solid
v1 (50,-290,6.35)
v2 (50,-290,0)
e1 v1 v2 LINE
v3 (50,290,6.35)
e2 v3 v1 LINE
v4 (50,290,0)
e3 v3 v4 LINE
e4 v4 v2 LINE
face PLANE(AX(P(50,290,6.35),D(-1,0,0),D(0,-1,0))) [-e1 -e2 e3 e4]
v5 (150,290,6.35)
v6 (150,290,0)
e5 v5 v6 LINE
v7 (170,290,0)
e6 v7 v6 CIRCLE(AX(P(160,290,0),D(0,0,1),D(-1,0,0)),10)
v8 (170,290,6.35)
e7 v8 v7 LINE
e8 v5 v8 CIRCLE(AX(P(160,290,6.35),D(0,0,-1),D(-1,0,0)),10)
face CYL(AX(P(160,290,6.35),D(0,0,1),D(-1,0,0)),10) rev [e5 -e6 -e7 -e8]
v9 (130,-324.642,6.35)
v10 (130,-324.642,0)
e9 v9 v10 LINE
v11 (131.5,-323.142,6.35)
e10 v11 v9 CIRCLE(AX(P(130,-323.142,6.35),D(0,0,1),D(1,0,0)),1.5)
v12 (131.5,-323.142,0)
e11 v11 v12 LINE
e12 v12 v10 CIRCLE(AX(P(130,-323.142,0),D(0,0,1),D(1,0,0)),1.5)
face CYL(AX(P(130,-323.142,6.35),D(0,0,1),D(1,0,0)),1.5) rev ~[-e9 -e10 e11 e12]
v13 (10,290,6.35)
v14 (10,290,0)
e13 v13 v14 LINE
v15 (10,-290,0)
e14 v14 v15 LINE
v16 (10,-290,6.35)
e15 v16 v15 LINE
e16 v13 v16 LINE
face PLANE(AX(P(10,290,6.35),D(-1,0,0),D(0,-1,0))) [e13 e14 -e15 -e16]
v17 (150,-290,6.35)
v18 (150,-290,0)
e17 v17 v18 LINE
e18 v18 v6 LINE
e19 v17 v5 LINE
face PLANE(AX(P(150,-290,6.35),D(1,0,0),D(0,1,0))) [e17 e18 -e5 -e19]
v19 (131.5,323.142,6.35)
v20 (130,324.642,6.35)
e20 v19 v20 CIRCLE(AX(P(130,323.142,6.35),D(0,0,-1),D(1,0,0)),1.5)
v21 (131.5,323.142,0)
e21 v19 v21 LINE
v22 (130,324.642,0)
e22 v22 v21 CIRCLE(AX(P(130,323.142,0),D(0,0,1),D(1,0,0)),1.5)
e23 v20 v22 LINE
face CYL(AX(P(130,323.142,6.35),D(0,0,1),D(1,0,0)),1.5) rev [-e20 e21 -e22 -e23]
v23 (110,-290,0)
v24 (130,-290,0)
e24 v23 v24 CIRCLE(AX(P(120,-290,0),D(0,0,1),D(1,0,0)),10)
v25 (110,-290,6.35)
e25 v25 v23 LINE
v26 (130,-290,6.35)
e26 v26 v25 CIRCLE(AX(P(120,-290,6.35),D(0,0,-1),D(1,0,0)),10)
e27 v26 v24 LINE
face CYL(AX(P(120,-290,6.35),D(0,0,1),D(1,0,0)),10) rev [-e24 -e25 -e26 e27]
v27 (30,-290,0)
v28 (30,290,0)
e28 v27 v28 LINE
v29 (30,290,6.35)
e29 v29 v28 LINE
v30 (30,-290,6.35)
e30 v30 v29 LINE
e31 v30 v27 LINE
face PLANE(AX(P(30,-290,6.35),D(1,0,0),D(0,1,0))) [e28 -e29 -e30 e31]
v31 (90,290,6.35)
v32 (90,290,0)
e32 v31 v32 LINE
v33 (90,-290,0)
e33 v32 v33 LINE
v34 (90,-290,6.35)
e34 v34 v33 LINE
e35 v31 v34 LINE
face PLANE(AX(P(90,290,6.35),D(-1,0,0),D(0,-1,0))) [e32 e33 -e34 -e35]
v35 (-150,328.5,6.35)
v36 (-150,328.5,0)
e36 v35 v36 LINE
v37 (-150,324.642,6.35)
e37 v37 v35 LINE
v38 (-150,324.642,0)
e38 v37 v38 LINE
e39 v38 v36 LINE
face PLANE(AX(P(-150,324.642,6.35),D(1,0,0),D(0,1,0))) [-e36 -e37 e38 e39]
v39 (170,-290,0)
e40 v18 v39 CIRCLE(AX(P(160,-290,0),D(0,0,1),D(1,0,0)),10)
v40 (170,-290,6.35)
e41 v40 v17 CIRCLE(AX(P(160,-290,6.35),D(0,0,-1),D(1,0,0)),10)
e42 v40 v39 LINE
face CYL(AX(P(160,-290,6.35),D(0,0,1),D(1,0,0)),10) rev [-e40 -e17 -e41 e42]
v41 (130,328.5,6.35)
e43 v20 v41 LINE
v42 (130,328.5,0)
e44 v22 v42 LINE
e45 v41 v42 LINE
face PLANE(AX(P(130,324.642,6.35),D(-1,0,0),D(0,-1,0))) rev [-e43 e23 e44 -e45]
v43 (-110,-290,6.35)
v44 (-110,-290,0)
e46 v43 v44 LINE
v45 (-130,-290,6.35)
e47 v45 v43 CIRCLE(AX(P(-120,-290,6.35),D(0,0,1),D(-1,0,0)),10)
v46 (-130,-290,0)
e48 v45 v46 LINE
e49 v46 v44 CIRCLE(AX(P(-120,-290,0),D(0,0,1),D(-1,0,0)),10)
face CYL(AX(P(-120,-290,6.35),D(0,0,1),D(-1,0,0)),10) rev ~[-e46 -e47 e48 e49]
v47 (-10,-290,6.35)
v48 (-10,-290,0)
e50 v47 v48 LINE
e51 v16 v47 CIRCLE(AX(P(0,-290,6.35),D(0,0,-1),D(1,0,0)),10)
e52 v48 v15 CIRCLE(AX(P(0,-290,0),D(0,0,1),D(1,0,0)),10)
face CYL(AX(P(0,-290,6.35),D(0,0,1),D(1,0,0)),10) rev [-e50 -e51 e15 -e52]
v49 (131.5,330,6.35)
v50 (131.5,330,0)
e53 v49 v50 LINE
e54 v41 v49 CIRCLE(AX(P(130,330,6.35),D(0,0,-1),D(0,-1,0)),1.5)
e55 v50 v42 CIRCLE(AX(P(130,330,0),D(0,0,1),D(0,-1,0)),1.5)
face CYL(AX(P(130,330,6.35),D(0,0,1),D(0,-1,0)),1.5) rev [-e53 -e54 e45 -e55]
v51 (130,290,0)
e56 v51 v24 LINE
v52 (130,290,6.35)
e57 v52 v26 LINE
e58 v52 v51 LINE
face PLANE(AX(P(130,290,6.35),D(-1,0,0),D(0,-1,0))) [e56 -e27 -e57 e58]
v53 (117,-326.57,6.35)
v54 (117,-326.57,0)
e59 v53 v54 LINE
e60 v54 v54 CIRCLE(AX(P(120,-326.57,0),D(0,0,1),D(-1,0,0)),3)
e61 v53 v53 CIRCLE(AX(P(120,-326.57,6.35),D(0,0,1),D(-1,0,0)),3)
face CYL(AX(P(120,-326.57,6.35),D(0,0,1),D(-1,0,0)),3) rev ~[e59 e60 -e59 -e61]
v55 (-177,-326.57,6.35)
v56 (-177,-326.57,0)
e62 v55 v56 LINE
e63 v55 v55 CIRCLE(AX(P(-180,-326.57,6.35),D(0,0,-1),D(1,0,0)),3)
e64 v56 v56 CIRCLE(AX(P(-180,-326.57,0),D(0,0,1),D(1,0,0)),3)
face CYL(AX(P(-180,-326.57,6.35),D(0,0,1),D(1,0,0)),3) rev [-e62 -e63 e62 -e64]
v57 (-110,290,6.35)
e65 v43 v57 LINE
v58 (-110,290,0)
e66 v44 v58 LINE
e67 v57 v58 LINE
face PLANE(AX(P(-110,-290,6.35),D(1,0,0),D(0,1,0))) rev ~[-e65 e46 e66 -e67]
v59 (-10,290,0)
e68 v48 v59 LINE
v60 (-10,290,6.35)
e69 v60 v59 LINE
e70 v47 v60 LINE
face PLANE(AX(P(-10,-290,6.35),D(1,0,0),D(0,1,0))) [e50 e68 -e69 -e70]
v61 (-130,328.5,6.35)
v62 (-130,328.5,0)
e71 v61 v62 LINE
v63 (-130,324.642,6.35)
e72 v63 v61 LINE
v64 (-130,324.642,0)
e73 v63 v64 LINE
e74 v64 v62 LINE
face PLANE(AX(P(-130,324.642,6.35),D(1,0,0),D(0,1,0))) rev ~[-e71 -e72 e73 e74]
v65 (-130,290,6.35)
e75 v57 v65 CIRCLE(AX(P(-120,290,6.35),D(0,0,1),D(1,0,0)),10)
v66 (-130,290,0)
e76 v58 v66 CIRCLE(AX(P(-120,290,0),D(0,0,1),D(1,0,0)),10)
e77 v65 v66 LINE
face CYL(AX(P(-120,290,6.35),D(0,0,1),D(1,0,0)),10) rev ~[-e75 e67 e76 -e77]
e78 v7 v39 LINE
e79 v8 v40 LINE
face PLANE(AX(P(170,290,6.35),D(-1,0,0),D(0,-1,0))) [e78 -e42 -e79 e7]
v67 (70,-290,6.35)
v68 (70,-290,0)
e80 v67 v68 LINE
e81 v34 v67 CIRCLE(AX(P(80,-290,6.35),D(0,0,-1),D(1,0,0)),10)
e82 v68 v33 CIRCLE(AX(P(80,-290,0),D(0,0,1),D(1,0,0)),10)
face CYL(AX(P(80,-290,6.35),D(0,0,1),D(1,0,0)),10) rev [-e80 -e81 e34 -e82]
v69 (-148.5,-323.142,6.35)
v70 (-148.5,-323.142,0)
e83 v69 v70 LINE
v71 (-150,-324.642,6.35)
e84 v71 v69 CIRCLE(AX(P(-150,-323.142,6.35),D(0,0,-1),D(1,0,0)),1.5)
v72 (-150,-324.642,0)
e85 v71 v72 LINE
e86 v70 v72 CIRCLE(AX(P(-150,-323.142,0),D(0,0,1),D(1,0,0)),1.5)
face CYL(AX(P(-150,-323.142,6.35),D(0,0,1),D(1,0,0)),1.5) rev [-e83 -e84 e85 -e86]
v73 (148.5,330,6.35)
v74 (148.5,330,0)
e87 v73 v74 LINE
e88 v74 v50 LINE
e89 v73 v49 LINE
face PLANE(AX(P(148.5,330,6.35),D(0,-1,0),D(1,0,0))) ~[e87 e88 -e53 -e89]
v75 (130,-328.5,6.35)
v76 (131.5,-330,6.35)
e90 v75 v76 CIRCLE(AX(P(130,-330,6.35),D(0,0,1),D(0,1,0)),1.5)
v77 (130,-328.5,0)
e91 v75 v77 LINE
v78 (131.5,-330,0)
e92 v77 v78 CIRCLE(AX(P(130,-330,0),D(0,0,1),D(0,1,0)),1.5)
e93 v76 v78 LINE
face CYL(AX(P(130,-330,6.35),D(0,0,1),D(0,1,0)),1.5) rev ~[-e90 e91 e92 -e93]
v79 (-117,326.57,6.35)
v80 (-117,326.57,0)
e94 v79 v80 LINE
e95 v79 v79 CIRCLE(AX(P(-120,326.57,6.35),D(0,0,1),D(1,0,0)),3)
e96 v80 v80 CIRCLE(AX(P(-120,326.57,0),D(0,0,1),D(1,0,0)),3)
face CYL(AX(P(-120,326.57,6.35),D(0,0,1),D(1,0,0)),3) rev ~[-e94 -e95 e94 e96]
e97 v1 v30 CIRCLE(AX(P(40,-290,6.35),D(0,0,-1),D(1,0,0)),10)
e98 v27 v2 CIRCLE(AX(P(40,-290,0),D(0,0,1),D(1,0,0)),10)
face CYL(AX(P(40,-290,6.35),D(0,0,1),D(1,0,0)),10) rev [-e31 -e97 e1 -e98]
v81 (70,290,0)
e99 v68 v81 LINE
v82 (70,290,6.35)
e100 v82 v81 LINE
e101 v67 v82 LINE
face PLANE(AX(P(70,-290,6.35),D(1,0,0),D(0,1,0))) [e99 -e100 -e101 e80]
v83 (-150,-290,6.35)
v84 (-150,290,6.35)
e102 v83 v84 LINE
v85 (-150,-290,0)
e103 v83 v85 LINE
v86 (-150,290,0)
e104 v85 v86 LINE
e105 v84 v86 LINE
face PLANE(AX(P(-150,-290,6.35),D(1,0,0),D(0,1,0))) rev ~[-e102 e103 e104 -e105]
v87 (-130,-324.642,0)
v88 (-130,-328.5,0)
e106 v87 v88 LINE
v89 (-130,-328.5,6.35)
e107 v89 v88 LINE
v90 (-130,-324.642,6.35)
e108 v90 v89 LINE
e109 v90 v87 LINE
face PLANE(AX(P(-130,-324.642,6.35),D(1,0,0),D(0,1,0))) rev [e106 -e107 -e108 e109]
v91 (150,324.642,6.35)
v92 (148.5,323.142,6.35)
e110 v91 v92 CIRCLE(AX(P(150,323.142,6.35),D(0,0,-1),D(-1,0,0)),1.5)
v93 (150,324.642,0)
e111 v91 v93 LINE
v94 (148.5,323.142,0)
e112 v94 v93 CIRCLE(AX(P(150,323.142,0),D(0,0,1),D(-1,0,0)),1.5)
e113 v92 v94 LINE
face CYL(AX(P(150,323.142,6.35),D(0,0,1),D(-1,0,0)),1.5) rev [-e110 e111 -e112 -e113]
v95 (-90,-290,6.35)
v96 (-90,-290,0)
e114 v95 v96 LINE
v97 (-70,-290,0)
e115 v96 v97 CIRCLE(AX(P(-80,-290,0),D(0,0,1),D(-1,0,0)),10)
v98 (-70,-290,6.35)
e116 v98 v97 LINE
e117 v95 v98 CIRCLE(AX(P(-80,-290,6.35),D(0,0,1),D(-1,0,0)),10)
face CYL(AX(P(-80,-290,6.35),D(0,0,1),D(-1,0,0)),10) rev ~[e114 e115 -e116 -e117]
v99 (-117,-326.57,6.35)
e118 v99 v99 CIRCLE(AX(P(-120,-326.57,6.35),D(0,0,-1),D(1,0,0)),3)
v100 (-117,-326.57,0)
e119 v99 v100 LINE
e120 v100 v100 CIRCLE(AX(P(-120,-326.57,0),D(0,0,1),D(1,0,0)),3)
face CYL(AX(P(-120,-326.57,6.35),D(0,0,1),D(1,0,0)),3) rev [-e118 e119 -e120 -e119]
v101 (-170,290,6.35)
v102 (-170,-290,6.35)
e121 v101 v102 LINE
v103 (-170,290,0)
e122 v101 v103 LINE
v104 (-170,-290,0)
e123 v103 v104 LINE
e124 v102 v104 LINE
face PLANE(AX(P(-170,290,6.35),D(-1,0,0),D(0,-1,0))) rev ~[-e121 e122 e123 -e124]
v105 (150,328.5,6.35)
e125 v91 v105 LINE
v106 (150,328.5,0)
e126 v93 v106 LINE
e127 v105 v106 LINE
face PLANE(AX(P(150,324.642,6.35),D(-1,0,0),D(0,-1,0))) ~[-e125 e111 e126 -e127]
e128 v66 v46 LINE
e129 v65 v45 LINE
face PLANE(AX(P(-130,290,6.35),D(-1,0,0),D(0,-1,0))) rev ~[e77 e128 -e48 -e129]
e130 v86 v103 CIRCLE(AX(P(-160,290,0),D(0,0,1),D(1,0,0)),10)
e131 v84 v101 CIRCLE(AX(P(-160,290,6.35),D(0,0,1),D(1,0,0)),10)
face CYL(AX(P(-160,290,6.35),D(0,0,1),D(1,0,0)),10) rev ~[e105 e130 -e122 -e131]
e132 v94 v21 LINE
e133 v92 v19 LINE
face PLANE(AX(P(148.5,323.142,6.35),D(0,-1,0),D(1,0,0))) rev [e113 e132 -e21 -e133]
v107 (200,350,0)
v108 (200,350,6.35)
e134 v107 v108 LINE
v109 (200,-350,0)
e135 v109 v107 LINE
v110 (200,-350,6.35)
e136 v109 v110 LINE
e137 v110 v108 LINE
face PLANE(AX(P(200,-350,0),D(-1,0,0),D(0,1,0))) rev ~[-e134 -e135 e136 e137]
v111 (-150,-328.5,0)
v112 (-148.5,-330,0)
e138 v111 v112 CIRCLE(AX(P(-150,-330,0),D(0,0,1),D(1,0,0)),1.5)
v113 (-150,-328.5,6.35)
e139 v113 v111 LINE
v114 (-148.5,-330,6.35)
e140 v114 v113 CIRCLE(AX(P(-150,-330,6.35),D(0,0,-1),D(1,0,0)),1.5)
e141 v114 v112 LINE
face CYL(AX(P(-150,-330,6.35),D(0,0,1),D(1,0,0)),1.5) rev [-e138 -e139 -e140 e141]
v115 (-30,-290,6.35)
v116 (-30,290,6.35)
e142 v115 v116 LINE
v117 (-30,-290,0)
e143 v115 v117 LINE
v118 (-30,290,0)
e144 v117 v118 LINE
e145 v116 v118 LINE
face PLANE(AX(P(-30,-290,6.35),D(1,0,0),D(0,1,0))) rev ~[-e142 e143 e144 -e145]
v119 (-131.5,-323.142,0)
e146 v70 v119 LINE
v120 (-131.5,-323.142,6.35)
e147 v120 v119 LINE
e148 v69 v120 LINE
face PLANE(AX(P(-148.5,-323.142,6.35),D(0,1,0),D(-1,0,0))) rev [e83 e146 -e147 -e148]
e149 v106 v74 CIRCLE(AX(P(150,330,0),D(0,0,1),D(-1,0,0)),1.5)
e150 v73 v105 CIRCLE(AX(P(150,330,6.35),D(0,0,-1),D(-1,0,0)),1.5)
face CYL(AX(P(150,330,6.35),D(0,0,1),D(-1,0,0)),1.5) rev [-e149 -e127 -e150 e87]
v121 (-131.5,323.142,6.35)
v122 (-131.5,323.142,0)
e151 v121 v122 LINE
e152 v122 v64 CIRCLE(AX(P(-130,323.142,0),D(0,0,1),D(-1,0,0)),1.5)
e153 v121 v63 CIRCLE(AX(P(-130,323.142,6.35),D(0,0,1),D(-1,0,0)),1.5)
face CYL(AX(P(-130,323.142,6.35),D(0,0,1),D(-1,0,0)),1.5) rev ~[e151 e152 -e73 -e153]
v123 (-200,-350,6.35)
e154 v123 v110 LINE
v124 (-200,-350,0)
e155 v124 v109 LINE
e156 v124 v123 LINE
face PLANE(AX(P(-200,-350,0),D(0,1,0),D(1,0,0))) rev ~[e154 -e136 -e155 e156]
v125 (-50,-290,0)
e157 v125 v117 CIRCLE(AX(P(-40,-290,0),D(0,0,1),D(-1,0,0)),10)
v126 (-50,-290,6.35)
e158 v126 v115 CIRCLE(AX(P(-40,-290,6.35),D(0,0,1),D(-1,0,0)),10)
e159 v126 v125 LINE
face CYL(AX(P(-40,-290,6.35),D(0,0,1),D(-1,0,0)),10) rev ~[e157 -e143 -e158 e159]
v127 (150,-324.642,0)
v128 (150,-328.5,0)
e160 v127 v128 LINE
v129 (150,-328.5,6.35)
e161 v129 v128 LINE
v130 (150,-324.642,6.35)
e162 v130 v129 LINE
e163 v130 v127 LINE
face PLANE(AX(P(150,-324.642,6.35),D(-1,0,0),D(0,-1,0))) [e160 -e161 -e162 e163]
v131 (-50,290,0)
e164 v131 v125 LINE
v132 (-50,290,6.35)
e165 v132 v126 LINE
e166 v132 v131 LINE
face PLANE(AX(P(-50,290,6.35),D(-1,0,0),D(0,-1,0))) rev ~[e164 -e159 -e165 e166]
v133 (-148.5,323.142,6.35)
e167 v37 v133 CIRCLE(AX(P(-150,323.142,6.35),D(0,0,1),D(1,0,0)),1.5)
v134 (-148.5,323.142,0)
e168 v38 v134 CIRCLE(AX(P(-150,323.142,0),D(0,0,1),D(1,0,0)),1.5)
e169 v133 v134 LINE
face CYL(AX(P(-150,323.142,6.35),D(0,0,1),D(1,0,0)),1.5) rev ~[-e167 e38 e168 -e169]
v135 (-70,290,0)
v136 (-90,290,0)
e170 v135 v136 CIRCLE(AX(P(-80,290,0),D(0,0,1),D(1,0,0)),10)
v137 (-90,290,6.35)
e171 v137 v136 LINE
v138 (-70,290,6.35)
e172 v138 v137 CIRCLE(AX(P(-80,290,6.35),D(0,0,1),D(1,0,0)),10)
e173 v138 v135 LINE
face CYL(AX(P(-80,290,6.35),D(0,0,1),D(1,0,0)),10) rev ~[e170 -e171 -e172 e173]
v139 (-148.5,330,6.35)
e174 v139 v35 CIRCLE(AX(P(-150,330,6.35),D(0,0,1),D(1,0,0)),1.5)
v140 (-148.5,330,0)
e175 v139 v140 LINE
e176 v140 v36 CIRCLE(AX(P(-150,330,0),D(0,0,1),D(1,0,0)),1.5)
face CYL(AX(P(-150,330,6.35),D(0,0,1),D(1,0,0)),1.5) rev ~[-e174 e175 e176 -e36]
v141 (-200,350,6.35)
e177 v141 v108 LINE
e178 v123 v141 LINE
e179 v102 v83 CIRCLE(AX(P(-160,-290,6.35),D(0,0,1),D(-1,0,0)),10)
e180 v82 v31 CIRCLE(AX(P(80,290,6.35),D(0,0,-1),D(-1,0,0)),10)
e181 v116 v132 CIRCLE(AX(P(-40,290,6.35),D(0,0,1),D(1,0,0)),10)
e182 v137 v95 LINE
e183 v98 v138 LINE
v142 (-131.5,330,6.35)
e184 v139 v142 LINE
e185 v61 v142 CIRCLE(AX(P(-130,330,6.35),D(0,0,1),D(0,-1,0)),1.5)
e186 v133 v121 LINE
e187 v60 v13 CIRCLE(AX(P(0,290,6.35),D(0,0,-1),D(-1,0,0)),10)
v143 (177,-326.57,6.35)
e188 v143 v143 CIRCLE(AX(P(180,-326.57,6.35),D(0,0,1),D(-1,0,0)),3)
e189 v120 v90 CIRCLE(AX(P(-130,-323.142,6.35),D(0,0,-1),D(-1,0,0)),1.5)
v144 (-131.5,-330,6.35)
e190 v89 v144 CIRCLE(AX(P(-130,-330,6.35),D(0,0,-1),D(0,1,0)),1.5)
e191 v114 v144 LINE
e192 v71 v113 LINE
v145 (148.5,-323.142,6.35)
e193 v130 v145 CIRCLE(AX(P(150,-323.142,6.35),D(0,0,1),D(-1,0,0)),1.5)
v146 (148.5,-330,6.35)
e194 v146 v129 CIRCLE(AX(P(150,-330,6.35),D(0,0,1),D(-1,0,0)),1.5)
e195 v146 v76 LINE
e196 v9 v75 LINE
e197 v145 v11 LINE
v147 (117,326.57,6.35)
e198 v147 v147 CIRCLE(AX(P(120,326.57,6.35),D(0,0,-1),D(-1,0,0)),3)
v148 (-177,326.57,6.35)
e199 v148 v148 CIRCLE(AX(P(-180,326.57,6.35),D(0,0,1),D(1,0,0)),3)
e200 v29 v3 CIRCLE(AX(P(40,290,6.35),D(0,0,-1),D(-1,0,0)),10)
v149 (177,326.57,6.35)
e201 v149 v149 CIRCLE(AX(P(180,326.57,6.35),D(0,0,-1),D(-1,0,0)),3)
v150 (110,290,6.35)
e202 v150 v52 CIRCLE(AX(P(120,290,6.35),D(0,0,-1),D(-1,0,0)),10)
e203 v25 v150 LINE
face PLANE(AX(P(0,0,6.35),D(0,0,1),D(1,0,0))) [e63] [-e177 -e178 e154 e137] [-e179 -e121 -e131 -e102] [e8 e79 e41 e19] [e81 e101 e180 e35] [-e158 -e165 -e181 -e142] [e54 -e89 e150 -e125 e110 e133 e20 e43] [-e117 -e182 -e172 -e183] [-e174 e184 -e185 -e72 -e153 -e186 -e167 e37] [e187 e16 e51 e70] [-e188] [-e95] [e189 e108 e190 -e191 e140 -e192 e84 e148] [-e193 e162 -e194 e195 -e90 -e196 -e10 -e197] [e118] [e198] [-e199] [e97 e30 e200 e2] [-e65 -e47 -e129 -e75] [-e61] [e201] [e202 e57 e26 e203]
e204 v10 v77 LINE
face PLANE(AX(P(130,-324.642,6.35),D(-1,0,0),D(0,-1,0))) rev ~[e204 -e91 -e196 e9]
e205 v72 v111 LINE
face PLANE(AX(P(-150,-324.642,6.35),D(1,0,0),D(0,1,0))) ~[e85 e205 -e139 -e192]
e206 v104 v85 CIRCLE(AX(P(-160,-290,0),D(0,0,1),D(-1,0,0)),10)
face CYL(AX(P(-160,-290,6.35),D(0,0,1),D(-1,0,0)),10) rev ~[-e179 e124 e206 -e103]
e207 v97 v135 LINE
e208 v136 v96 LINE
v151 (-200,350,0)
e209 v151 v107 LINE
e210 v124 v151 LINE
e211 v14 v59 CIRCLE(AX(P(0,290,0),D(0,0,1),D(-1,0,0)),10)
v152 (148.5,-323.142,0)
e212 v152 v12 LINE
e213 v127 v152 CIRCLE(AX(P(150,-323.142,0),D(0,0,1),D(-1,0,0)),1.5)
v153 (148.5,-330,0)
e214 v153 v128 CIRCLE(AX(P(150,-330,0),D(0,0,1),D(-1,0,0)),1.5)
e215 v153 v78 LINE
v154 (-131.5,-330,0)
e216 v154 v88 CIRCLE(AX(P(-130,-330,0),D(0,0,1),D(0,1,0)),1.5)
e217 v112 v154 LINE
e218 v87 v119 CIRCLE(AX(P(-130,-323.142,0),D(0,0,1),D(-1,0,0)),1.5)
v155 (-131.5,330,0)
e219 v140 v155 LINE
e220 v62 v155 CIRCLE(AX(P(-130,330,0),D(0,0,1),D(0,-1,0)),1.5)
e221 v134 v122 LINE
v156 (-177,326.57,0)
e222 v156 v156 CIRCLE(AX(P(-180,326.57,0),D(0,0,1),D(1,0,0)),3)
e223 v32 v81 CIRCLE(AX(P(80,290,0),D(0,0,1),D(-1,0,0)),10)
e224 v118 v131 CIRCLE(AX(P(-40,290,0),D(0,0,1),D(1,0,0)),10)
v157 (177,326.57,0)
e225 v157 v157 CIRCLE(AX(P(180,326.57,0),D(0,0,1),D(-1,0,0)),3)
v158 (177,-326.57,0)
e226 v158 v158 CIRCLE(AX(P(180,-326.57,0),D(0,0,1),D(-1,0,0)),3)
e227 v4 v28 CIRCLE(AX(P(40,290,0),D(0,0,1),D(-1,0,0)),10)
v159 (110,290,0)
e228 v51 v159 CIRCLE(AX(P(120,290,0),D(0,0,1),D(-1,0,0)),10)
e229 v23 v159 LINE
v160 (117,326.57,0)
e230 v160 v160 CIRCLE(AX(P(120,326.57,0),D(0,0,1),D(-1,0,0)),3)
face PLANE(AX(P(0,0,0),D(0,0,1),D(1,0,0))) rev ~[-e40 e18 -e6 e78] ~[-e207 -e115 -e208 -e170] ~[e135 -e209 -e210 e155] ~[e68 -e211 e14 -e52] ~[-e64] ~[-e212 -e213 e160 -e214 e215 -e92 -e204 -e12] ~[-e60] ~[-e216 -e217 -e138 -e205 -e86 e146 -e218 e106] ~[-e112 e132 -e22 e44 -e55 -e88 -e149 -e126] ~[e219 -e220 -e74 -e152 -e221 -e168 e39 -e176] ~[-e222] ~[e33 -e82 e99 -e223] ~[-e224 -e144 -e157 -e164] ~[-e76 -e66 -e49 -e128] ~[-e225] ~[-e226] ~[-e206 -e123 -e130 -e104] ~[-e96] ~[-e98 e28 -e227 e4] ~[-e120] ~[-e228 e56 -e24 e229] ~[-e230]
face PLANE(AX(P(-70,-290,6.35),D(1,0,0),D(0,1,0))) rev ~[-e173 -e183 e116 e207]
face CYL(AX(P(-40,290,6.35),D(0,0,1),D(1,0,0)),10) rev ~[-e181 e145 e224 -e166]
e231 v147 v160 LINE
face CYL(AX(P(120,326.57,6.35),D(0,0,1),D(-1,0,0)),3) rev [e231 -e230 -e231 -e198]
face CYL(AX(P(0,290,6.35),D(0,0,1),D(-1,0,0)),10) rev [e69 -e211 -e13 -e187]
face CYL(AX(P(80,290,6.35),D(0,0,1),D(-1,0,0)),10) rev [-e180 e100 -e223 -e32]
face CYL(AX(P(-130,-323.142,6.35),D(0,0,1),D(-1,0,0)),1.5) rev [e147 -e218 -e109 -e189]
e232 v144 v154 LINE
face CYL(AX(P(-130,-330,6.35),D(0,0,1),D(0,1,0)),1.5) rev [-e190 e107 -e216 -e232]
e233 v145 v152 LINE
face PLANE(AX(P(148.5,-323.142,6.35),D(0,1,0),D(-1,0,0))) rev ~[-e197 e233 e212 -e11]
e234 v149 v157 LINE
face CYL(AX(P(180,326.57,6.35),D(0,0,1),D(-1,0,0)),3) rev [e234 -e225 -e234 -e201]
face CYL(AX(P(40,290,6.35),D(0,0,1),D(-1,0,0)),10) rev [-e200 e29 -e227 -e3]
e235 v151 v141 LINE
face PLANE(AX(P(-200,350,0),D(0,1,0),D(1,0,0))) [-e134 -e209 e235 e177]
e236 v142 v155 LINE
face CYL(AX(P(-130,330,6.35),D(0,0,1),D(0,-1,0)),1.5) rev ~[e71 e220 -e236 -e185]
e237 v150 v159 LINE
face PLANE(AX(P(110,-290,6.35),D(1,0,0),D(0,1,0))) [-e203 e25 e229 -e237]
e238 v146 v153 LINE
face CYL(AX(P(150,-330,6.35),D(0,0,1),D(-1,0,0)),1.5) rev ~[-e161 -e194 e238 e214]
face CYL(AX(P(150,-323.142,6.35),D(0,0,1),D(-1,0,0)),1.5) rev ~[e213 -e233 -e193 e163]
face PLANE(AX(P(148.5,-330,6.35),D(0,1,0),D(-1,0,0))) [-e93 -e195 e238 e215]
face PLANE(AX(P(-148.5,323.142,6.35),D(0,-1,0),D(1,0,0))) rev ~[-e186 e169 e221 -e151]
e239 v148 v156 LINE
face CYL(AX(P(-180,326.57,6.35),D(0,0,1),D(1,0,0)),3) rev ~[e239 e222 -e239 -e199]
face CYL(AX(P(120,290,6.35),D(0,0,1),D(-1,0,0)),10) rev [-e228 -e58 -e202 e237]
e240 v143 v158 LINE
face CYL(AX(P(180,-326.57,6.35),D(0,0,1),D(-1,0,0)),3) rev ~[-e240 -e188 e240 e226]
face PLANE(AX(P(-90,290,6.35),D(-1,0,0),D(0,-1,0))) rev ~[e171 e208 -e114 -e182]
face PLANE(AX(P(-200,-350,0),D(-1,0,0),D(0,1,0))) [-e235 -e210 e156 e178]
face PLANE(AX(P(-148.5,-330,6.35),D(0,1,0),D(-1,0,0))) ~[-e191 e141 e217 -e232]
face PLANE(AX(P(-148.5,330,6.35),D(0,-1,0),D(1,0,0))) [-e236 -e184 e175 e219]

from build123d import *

# Parameters (mm, degrees)
SKETCH1_W                 = 400
SKETCH1_H                 = 700
BOSS_EXTRUDE1_DEPTH       = 6.35
SKETCH2_R                 = 1.5
SKETCH2_W                 = 20
SKETCH2_H                 = 6.858
SKETCH2_R_2               = 3
CUT_EXTRUDE1_DEPTH        = 7.35
MIRROR2_COPY_1_SKETCH_R   = 1.5
MIRROR2_COPY_1_SKETCH_W   = 20
MIRROR2_COPY_1_SKETCH_H   = 6.858
MIRROR2_COPY_1_SKETCH_R_2 = 3
MIRROR2_COPY_1_DEPTH      = 7.35
CUT_EXTRUDE2_DEPTH        = 7.35
LPATTERN1_COUNT           = 5
LPATTERN1_PITCH           = 40
MIRROR3_COPY_1_DEPTH      = 7.35
MIRROR3_COPY_2_DEPTH      = 7.35
MIRROR3_COPY_3_DEPTH      = 7.35
MIRROR3_COPY_4_DEPTH      = 7.35
MIRROR3_COPY_5_DEPTH      = 7.35


with BuildPart() as part:
    # Sketch1 → Boss-Extrude1 (new body)
    with BuildSketch(Plane.XY):
        Rectangle(SKETCH1_W, SKETCH1_H)
    extrude(amount=BOSS_EXTRUDE1_DEPTH)

    # Sketch2 → Cut-Extrude1 (cut, through all)
    with BuildSketch(Plane.XY.offset(6.35)):
        with Locations((-130, 323.142)):
            Circle(SKETCH2_R)
        with Locations((-130, 330)):
            Circle(SKETCH2_R)
        with Locations((-150, 330)):
            Circle(SKETCH2_R)
        with Locations((-150, 323.142)):
            Circle(SKETCH2_R)
        with Locations((-140, 326.571)):
            Rectangle(SKETCH2_W, SKETCH2_H)
        with BuildLine():
            Line((-150, 328.5), (-150, 330))
            Line((-150, 330), (-148.5, 330))
            ThreePointArc((-148.5, 330), (-151.060660172, 331.060660172), (-150, 328.5))
        make_face()
        with BuildLine():
            Line((-148.5, 330), (-150, 330))
            Line((-150, 330), (-150, 328.5))
            ThreePointArc((-150, 328.5), (-148.939339828, 328.939339828), (-148.5, 330))
        make_face()
        with BuildLine():
            ThreePointArc((-148.5, 323.142), (-148.939339828, 324.202660172), (-150, 324.642))
            Line((-150, 324.642), (-150, 323.142))
            Line((-150, 323.142), (-148.5, 323.142))
        make_face()
        with BuildLine():
            Line((-150, 323.142), (-150, 324.642))
            ThreePointArc((-150, 324.642), (-151.060660172, 322.081339828), (-148.5, 323.142))
            Line((-148.5, 323.142), (-150, 323.142))
        make_face()
        with BuildLine():
            ThreePointArc((-128.5, 330), (-130, 331.5), (-131.5, 330))
            Line((-131.5, 330), (-130, 330))
            Line((-130, 330), (-130, 328.5))
            ThreePointArc((-130, 328.5), (-128.939339828, 328.939339828), (-128.5, 330))
        make_face()
        with BuildLine():
            Line((-130, 330), (-131.5, 330))
            ThreePointArc((-131.5, 330), (-131.060660172, 328.939339828), (-130, 328.5))
            Line((-130, 328.5), (-130, 330))
        make_face()
        with BuildLine():
            ThreePointArc((-128.5, 323.142), (-128.939339828, 324.202660172), (-130, 324.642))
            Line((-130, 324.642), (-130, 323.142))
            Line((-130, 323.142), (-131.5, 323.142))
            ThreePointArc((-131.5, 323.142), (-130, 321.642), (-128.5, 323.142))
        make_face()
        with BuildLine():
            Line((-130, 323.142), (-130, 324.642))
            ThreePointArc((-130, 324.642), (-131.060660172, 324.202660172), (-131.5, 323.142))
            Line((-131.5, 323.142), (-130, 323.142))
        make_face()
        with Locations((-180, 326.57)):
            Circle(SKETCH2_R_2)
        with Locations((-120, 326.57)):
            Circle(SKETCH2_R_2)
    cut_extrude1 = extrude(amount=-CUT_EXTRUDE1_DEPTH, mode=Mode.SUBTRACT)

    # Mirror1: Cut-Extrude1 across plane
    add(cut_extrude1.mirror(Plane.ZX), mode=Mode.SUBTRACT)

    # Mirror2: Cut-Extrude1 across plane
    add(cut_extrude1.mirror(Plane(origin=(0, 0, 0), x_dir=(0, 0, 1), z_dir=(1, 0, 0))), mode=Mode.SUBTRACT)

    # Mirror2 copy 1 sketch → Mirror2 copy 1 (cut, through all)
    with BuildSketch(Plane(origin=(0, 0, 6.35), x_dir=(-1, 0, 0), z_dir=(0, 0, 1))):
        with Locations((-130, 323.142)):
            Circle(MIRROR2_COPY_1_SKETCH_R)
        with Locations((-130, 330)):
            Circle(MIRROR2_COPY_1_SKETCH_R)
        with Locations((-150, 330)):
            Circle(MIRROR2_COPY_1_SKETCH_R)
        with Locations((-150, 323.142)):
            Circle(MIRROR2_COPY_1_SKETCH_R)
        with Locations((-140, 326.571)):
            Rectangle(MIRROR2_COPY_1_SKETCH_W, MIRROR2_COPY_1_SKETCH_H)
        with BuildLine():
            Line((-150, 328.5), (-150, 330))
            Line((-150, 330), (-148.5, 330))
            ThreePointArc((-148.5, 330), (-151.060660172, 331.060660172), (-150, 328.5))
        make_face()
        with BuildLine():
            Line((-148.5, 330), (-150, 330))
            Line((-150, 330), (-150, 328.5))
            ThreePointArc((-150, 328.5), (-148.939339828, 328.939339828), (-148.5, 330))
        make_face()
        with BuildLine():
            ThreePointArc((-148.5, 323.142), (-148.939339828, 324.202660172), (-150, 324.642))
            Line((-150, 324.642), (-150, 323.142))
            Line((-150, 323.142), (-148.5, 323.142))
        make_face()
        with BuildLine():
            Line((-150, 323.142), (-150, 324.642))
            ThreePointArc((-150, 324.642), (-151.060660172, 322.081339828), (-148.5, 323.142))
            Line((-148.5, 323.142), (-150, 323.142))
        make_face()
        with BuildLine():
            ThreePointArc((-128.5, 330), (-130, 331.5), (-131.5, 330))
            Line((-131.5, 330), (-130, 330))
            Line((-130, 330), (-130, 328.5))
            ThreePointArc((-130, 328.5), (-128.939339828, 328.939339828), (-128.5, 330))
        make_face()
        with BuildLine():
            Line((-130, 330), (-131.5, 330))
            ThreePointArc((-131.5, 330), (-131.060660172, 328.939339828), (-130, 328.5))
            Line((-130, 328.5), (-130, 330))
        make_face()
        with BuildLine():
            ThreePointArc((-128.5, 323.142), (-128.939339828, 324.202660172), (-130, 324.642))
            Line((-130, 324.642), (-130, 323.142))
            Line((-130, 323.142), (-131.5, 323.142))
            ThreePointArc((-131.5, 323.142), (-130, 321.642), (-128.5, 323.142))
        make_face()
        with BuildLine():
            Line((-130, 323.142), (-130, 324.642))
            ThreePointArc((-130, 324.642), (-131.060660172, 324.202660172), (-131.5, 323.142))
            Line((-131.5, 323.142), (-130, 323.142))
        make_face()
        with Locations((-180, 326.57)):
            Circle(MIRROR2_COPY_1_SKETCH_R_2)
        with Locations((-120, 326.57)):
            Circle(MIRROR2_COPY_1_SKETCH_R_2)
    extrude(amount=-MIRROR2_COPY_1_DEPTH, mode=Mode.SUBTRACT)

    # Sketch3 → Cut-Extrude2 (cut, through all)
    with BuildSketch(Plane.XY.offset(6.35)):
        with BuildLine():
            Line((10, 290), (10, -290))
            ThreePointArc((10, -290), (0, -300), (-10, -290))
            Line((-10, -290), (-10, 290))
            ThreePointArc((-10, 290), (0, 300), (10, 290))
        make_face()
    cut_extrude2 = extrude(amount=-CUT_EXTRUDE2_DEPTH, mode=Mode.SUBTRACT)

    # LPattern1: Cut-Extrude2 ×5
    with Locations(*[(i * LPATTERN1_PITCH, 0, 0) for i in range(1, LPATTERN1_COUNT)]):
        add(cut_extrude2, mode=Mode.SUBTRACT)

    # Mirror3 copy 1 sketch → Mirror3 copy 1 (cut, through all)
    with BuildSketch(Plane(origin=(-40, 0, 6.35), x_dir=(-1, 0, 0), z_dir=(0, 0, 1))):
        with BuildLine():
            Line((10, -290), (10, 290))
            ThreePointArc((10, 290), (0, 300), (-10, 290))
            Line((-10, 290), (-10, -290))
            ThreePointArc((-10, -290), (0, -300), (10, -290))
        make_face()
    extrude(amount=-MIRROR3_COPY_1_DEPTH, mode=Mode.SUBTRACT)

    # Mirror3 copy 2 sketch → Mirror3 copy 2 (cut, through all)
    with BuildSketch(Plane(origin=(-80, 0, 6.35), x_dir=(-1, 0, 0), z_dir=(0, 0, 1))):
        with BuildLine():
            Line((10, -290), (10, 290))
            ThreePointArc((10, 290), (0, 300), (-10, 290))
            Line((-10, 290), (-10, -290))
            ThreePointArc((-10, -290), (0, -300), (10, -290))
        make_face()
    extrude(amount=-MIRROR3_COPY_2_DEPTH, mode=Mode.SUBTRACT)

    # Mirror3 copy 3 sketch → Mirror3 copy 3 (cut, through all)
    with BuildSketch(Plane(origin=(-120, 0, 6.35), x_dir=(-1, 0, 0), z_dir=(0, 0, 1))):
        with BuildLine():
            Line((10, -290), (10, 290))
            ThreePointArc((10, 290), (0, 300), (-10, 290))
            Line((-10, 290), (-10, -290))
            ThreePointArc((-10, -290), (0, -300), (10, -290))
        make_face()
    extrude(amount=-MIRROR3_COPY_3_DEPTH, mode=Mode.SUBTRACT)

    # Mirror3 copy 4 sketch → Mirror3 copy 4 (cut, through all)
    with BuildSketch(Plane(origin=(-160, 0, 6.35), x_dir=(-1, 0, 0), z_dir=(0, 0, 1))):
        with BuildLine():
            Line((10, -290), (10, 290))
            ThreePointArc((10, 290), (0, 300), (-10, 290))
            Line((-10, 290), (-10, -290))
            ThreePointArc((-10, -290), (0, -300), (10, -290))
        make_face()
    extrude(amount=-MIRROR3_COPY_4_DEPTH, mode=Mode.SUBTRACT)

    # Mirror3 copy 5 sketch → Mirror3 copy 5 (cut, through all)
    with BuildSketch(Plane(origin=(0, 0, 6.35), x_dir=(-1, 0, 0), z_dir=(0, 0, 1))):
        with BuildLine():
            Line((10, -290), (10, 290))
            ThreePointArc((10, 290), (0, 300), (-10, 290))
            Line((-10, 290), (-10, -290))
            ThreePointArc((-10, -290), (0, -300), (10, -290))
        make_face()
    extrude(amount=-MIRROR3_COPY_5_DEPTH, mode=Mode.SUBTRACT)


solid = part.part
